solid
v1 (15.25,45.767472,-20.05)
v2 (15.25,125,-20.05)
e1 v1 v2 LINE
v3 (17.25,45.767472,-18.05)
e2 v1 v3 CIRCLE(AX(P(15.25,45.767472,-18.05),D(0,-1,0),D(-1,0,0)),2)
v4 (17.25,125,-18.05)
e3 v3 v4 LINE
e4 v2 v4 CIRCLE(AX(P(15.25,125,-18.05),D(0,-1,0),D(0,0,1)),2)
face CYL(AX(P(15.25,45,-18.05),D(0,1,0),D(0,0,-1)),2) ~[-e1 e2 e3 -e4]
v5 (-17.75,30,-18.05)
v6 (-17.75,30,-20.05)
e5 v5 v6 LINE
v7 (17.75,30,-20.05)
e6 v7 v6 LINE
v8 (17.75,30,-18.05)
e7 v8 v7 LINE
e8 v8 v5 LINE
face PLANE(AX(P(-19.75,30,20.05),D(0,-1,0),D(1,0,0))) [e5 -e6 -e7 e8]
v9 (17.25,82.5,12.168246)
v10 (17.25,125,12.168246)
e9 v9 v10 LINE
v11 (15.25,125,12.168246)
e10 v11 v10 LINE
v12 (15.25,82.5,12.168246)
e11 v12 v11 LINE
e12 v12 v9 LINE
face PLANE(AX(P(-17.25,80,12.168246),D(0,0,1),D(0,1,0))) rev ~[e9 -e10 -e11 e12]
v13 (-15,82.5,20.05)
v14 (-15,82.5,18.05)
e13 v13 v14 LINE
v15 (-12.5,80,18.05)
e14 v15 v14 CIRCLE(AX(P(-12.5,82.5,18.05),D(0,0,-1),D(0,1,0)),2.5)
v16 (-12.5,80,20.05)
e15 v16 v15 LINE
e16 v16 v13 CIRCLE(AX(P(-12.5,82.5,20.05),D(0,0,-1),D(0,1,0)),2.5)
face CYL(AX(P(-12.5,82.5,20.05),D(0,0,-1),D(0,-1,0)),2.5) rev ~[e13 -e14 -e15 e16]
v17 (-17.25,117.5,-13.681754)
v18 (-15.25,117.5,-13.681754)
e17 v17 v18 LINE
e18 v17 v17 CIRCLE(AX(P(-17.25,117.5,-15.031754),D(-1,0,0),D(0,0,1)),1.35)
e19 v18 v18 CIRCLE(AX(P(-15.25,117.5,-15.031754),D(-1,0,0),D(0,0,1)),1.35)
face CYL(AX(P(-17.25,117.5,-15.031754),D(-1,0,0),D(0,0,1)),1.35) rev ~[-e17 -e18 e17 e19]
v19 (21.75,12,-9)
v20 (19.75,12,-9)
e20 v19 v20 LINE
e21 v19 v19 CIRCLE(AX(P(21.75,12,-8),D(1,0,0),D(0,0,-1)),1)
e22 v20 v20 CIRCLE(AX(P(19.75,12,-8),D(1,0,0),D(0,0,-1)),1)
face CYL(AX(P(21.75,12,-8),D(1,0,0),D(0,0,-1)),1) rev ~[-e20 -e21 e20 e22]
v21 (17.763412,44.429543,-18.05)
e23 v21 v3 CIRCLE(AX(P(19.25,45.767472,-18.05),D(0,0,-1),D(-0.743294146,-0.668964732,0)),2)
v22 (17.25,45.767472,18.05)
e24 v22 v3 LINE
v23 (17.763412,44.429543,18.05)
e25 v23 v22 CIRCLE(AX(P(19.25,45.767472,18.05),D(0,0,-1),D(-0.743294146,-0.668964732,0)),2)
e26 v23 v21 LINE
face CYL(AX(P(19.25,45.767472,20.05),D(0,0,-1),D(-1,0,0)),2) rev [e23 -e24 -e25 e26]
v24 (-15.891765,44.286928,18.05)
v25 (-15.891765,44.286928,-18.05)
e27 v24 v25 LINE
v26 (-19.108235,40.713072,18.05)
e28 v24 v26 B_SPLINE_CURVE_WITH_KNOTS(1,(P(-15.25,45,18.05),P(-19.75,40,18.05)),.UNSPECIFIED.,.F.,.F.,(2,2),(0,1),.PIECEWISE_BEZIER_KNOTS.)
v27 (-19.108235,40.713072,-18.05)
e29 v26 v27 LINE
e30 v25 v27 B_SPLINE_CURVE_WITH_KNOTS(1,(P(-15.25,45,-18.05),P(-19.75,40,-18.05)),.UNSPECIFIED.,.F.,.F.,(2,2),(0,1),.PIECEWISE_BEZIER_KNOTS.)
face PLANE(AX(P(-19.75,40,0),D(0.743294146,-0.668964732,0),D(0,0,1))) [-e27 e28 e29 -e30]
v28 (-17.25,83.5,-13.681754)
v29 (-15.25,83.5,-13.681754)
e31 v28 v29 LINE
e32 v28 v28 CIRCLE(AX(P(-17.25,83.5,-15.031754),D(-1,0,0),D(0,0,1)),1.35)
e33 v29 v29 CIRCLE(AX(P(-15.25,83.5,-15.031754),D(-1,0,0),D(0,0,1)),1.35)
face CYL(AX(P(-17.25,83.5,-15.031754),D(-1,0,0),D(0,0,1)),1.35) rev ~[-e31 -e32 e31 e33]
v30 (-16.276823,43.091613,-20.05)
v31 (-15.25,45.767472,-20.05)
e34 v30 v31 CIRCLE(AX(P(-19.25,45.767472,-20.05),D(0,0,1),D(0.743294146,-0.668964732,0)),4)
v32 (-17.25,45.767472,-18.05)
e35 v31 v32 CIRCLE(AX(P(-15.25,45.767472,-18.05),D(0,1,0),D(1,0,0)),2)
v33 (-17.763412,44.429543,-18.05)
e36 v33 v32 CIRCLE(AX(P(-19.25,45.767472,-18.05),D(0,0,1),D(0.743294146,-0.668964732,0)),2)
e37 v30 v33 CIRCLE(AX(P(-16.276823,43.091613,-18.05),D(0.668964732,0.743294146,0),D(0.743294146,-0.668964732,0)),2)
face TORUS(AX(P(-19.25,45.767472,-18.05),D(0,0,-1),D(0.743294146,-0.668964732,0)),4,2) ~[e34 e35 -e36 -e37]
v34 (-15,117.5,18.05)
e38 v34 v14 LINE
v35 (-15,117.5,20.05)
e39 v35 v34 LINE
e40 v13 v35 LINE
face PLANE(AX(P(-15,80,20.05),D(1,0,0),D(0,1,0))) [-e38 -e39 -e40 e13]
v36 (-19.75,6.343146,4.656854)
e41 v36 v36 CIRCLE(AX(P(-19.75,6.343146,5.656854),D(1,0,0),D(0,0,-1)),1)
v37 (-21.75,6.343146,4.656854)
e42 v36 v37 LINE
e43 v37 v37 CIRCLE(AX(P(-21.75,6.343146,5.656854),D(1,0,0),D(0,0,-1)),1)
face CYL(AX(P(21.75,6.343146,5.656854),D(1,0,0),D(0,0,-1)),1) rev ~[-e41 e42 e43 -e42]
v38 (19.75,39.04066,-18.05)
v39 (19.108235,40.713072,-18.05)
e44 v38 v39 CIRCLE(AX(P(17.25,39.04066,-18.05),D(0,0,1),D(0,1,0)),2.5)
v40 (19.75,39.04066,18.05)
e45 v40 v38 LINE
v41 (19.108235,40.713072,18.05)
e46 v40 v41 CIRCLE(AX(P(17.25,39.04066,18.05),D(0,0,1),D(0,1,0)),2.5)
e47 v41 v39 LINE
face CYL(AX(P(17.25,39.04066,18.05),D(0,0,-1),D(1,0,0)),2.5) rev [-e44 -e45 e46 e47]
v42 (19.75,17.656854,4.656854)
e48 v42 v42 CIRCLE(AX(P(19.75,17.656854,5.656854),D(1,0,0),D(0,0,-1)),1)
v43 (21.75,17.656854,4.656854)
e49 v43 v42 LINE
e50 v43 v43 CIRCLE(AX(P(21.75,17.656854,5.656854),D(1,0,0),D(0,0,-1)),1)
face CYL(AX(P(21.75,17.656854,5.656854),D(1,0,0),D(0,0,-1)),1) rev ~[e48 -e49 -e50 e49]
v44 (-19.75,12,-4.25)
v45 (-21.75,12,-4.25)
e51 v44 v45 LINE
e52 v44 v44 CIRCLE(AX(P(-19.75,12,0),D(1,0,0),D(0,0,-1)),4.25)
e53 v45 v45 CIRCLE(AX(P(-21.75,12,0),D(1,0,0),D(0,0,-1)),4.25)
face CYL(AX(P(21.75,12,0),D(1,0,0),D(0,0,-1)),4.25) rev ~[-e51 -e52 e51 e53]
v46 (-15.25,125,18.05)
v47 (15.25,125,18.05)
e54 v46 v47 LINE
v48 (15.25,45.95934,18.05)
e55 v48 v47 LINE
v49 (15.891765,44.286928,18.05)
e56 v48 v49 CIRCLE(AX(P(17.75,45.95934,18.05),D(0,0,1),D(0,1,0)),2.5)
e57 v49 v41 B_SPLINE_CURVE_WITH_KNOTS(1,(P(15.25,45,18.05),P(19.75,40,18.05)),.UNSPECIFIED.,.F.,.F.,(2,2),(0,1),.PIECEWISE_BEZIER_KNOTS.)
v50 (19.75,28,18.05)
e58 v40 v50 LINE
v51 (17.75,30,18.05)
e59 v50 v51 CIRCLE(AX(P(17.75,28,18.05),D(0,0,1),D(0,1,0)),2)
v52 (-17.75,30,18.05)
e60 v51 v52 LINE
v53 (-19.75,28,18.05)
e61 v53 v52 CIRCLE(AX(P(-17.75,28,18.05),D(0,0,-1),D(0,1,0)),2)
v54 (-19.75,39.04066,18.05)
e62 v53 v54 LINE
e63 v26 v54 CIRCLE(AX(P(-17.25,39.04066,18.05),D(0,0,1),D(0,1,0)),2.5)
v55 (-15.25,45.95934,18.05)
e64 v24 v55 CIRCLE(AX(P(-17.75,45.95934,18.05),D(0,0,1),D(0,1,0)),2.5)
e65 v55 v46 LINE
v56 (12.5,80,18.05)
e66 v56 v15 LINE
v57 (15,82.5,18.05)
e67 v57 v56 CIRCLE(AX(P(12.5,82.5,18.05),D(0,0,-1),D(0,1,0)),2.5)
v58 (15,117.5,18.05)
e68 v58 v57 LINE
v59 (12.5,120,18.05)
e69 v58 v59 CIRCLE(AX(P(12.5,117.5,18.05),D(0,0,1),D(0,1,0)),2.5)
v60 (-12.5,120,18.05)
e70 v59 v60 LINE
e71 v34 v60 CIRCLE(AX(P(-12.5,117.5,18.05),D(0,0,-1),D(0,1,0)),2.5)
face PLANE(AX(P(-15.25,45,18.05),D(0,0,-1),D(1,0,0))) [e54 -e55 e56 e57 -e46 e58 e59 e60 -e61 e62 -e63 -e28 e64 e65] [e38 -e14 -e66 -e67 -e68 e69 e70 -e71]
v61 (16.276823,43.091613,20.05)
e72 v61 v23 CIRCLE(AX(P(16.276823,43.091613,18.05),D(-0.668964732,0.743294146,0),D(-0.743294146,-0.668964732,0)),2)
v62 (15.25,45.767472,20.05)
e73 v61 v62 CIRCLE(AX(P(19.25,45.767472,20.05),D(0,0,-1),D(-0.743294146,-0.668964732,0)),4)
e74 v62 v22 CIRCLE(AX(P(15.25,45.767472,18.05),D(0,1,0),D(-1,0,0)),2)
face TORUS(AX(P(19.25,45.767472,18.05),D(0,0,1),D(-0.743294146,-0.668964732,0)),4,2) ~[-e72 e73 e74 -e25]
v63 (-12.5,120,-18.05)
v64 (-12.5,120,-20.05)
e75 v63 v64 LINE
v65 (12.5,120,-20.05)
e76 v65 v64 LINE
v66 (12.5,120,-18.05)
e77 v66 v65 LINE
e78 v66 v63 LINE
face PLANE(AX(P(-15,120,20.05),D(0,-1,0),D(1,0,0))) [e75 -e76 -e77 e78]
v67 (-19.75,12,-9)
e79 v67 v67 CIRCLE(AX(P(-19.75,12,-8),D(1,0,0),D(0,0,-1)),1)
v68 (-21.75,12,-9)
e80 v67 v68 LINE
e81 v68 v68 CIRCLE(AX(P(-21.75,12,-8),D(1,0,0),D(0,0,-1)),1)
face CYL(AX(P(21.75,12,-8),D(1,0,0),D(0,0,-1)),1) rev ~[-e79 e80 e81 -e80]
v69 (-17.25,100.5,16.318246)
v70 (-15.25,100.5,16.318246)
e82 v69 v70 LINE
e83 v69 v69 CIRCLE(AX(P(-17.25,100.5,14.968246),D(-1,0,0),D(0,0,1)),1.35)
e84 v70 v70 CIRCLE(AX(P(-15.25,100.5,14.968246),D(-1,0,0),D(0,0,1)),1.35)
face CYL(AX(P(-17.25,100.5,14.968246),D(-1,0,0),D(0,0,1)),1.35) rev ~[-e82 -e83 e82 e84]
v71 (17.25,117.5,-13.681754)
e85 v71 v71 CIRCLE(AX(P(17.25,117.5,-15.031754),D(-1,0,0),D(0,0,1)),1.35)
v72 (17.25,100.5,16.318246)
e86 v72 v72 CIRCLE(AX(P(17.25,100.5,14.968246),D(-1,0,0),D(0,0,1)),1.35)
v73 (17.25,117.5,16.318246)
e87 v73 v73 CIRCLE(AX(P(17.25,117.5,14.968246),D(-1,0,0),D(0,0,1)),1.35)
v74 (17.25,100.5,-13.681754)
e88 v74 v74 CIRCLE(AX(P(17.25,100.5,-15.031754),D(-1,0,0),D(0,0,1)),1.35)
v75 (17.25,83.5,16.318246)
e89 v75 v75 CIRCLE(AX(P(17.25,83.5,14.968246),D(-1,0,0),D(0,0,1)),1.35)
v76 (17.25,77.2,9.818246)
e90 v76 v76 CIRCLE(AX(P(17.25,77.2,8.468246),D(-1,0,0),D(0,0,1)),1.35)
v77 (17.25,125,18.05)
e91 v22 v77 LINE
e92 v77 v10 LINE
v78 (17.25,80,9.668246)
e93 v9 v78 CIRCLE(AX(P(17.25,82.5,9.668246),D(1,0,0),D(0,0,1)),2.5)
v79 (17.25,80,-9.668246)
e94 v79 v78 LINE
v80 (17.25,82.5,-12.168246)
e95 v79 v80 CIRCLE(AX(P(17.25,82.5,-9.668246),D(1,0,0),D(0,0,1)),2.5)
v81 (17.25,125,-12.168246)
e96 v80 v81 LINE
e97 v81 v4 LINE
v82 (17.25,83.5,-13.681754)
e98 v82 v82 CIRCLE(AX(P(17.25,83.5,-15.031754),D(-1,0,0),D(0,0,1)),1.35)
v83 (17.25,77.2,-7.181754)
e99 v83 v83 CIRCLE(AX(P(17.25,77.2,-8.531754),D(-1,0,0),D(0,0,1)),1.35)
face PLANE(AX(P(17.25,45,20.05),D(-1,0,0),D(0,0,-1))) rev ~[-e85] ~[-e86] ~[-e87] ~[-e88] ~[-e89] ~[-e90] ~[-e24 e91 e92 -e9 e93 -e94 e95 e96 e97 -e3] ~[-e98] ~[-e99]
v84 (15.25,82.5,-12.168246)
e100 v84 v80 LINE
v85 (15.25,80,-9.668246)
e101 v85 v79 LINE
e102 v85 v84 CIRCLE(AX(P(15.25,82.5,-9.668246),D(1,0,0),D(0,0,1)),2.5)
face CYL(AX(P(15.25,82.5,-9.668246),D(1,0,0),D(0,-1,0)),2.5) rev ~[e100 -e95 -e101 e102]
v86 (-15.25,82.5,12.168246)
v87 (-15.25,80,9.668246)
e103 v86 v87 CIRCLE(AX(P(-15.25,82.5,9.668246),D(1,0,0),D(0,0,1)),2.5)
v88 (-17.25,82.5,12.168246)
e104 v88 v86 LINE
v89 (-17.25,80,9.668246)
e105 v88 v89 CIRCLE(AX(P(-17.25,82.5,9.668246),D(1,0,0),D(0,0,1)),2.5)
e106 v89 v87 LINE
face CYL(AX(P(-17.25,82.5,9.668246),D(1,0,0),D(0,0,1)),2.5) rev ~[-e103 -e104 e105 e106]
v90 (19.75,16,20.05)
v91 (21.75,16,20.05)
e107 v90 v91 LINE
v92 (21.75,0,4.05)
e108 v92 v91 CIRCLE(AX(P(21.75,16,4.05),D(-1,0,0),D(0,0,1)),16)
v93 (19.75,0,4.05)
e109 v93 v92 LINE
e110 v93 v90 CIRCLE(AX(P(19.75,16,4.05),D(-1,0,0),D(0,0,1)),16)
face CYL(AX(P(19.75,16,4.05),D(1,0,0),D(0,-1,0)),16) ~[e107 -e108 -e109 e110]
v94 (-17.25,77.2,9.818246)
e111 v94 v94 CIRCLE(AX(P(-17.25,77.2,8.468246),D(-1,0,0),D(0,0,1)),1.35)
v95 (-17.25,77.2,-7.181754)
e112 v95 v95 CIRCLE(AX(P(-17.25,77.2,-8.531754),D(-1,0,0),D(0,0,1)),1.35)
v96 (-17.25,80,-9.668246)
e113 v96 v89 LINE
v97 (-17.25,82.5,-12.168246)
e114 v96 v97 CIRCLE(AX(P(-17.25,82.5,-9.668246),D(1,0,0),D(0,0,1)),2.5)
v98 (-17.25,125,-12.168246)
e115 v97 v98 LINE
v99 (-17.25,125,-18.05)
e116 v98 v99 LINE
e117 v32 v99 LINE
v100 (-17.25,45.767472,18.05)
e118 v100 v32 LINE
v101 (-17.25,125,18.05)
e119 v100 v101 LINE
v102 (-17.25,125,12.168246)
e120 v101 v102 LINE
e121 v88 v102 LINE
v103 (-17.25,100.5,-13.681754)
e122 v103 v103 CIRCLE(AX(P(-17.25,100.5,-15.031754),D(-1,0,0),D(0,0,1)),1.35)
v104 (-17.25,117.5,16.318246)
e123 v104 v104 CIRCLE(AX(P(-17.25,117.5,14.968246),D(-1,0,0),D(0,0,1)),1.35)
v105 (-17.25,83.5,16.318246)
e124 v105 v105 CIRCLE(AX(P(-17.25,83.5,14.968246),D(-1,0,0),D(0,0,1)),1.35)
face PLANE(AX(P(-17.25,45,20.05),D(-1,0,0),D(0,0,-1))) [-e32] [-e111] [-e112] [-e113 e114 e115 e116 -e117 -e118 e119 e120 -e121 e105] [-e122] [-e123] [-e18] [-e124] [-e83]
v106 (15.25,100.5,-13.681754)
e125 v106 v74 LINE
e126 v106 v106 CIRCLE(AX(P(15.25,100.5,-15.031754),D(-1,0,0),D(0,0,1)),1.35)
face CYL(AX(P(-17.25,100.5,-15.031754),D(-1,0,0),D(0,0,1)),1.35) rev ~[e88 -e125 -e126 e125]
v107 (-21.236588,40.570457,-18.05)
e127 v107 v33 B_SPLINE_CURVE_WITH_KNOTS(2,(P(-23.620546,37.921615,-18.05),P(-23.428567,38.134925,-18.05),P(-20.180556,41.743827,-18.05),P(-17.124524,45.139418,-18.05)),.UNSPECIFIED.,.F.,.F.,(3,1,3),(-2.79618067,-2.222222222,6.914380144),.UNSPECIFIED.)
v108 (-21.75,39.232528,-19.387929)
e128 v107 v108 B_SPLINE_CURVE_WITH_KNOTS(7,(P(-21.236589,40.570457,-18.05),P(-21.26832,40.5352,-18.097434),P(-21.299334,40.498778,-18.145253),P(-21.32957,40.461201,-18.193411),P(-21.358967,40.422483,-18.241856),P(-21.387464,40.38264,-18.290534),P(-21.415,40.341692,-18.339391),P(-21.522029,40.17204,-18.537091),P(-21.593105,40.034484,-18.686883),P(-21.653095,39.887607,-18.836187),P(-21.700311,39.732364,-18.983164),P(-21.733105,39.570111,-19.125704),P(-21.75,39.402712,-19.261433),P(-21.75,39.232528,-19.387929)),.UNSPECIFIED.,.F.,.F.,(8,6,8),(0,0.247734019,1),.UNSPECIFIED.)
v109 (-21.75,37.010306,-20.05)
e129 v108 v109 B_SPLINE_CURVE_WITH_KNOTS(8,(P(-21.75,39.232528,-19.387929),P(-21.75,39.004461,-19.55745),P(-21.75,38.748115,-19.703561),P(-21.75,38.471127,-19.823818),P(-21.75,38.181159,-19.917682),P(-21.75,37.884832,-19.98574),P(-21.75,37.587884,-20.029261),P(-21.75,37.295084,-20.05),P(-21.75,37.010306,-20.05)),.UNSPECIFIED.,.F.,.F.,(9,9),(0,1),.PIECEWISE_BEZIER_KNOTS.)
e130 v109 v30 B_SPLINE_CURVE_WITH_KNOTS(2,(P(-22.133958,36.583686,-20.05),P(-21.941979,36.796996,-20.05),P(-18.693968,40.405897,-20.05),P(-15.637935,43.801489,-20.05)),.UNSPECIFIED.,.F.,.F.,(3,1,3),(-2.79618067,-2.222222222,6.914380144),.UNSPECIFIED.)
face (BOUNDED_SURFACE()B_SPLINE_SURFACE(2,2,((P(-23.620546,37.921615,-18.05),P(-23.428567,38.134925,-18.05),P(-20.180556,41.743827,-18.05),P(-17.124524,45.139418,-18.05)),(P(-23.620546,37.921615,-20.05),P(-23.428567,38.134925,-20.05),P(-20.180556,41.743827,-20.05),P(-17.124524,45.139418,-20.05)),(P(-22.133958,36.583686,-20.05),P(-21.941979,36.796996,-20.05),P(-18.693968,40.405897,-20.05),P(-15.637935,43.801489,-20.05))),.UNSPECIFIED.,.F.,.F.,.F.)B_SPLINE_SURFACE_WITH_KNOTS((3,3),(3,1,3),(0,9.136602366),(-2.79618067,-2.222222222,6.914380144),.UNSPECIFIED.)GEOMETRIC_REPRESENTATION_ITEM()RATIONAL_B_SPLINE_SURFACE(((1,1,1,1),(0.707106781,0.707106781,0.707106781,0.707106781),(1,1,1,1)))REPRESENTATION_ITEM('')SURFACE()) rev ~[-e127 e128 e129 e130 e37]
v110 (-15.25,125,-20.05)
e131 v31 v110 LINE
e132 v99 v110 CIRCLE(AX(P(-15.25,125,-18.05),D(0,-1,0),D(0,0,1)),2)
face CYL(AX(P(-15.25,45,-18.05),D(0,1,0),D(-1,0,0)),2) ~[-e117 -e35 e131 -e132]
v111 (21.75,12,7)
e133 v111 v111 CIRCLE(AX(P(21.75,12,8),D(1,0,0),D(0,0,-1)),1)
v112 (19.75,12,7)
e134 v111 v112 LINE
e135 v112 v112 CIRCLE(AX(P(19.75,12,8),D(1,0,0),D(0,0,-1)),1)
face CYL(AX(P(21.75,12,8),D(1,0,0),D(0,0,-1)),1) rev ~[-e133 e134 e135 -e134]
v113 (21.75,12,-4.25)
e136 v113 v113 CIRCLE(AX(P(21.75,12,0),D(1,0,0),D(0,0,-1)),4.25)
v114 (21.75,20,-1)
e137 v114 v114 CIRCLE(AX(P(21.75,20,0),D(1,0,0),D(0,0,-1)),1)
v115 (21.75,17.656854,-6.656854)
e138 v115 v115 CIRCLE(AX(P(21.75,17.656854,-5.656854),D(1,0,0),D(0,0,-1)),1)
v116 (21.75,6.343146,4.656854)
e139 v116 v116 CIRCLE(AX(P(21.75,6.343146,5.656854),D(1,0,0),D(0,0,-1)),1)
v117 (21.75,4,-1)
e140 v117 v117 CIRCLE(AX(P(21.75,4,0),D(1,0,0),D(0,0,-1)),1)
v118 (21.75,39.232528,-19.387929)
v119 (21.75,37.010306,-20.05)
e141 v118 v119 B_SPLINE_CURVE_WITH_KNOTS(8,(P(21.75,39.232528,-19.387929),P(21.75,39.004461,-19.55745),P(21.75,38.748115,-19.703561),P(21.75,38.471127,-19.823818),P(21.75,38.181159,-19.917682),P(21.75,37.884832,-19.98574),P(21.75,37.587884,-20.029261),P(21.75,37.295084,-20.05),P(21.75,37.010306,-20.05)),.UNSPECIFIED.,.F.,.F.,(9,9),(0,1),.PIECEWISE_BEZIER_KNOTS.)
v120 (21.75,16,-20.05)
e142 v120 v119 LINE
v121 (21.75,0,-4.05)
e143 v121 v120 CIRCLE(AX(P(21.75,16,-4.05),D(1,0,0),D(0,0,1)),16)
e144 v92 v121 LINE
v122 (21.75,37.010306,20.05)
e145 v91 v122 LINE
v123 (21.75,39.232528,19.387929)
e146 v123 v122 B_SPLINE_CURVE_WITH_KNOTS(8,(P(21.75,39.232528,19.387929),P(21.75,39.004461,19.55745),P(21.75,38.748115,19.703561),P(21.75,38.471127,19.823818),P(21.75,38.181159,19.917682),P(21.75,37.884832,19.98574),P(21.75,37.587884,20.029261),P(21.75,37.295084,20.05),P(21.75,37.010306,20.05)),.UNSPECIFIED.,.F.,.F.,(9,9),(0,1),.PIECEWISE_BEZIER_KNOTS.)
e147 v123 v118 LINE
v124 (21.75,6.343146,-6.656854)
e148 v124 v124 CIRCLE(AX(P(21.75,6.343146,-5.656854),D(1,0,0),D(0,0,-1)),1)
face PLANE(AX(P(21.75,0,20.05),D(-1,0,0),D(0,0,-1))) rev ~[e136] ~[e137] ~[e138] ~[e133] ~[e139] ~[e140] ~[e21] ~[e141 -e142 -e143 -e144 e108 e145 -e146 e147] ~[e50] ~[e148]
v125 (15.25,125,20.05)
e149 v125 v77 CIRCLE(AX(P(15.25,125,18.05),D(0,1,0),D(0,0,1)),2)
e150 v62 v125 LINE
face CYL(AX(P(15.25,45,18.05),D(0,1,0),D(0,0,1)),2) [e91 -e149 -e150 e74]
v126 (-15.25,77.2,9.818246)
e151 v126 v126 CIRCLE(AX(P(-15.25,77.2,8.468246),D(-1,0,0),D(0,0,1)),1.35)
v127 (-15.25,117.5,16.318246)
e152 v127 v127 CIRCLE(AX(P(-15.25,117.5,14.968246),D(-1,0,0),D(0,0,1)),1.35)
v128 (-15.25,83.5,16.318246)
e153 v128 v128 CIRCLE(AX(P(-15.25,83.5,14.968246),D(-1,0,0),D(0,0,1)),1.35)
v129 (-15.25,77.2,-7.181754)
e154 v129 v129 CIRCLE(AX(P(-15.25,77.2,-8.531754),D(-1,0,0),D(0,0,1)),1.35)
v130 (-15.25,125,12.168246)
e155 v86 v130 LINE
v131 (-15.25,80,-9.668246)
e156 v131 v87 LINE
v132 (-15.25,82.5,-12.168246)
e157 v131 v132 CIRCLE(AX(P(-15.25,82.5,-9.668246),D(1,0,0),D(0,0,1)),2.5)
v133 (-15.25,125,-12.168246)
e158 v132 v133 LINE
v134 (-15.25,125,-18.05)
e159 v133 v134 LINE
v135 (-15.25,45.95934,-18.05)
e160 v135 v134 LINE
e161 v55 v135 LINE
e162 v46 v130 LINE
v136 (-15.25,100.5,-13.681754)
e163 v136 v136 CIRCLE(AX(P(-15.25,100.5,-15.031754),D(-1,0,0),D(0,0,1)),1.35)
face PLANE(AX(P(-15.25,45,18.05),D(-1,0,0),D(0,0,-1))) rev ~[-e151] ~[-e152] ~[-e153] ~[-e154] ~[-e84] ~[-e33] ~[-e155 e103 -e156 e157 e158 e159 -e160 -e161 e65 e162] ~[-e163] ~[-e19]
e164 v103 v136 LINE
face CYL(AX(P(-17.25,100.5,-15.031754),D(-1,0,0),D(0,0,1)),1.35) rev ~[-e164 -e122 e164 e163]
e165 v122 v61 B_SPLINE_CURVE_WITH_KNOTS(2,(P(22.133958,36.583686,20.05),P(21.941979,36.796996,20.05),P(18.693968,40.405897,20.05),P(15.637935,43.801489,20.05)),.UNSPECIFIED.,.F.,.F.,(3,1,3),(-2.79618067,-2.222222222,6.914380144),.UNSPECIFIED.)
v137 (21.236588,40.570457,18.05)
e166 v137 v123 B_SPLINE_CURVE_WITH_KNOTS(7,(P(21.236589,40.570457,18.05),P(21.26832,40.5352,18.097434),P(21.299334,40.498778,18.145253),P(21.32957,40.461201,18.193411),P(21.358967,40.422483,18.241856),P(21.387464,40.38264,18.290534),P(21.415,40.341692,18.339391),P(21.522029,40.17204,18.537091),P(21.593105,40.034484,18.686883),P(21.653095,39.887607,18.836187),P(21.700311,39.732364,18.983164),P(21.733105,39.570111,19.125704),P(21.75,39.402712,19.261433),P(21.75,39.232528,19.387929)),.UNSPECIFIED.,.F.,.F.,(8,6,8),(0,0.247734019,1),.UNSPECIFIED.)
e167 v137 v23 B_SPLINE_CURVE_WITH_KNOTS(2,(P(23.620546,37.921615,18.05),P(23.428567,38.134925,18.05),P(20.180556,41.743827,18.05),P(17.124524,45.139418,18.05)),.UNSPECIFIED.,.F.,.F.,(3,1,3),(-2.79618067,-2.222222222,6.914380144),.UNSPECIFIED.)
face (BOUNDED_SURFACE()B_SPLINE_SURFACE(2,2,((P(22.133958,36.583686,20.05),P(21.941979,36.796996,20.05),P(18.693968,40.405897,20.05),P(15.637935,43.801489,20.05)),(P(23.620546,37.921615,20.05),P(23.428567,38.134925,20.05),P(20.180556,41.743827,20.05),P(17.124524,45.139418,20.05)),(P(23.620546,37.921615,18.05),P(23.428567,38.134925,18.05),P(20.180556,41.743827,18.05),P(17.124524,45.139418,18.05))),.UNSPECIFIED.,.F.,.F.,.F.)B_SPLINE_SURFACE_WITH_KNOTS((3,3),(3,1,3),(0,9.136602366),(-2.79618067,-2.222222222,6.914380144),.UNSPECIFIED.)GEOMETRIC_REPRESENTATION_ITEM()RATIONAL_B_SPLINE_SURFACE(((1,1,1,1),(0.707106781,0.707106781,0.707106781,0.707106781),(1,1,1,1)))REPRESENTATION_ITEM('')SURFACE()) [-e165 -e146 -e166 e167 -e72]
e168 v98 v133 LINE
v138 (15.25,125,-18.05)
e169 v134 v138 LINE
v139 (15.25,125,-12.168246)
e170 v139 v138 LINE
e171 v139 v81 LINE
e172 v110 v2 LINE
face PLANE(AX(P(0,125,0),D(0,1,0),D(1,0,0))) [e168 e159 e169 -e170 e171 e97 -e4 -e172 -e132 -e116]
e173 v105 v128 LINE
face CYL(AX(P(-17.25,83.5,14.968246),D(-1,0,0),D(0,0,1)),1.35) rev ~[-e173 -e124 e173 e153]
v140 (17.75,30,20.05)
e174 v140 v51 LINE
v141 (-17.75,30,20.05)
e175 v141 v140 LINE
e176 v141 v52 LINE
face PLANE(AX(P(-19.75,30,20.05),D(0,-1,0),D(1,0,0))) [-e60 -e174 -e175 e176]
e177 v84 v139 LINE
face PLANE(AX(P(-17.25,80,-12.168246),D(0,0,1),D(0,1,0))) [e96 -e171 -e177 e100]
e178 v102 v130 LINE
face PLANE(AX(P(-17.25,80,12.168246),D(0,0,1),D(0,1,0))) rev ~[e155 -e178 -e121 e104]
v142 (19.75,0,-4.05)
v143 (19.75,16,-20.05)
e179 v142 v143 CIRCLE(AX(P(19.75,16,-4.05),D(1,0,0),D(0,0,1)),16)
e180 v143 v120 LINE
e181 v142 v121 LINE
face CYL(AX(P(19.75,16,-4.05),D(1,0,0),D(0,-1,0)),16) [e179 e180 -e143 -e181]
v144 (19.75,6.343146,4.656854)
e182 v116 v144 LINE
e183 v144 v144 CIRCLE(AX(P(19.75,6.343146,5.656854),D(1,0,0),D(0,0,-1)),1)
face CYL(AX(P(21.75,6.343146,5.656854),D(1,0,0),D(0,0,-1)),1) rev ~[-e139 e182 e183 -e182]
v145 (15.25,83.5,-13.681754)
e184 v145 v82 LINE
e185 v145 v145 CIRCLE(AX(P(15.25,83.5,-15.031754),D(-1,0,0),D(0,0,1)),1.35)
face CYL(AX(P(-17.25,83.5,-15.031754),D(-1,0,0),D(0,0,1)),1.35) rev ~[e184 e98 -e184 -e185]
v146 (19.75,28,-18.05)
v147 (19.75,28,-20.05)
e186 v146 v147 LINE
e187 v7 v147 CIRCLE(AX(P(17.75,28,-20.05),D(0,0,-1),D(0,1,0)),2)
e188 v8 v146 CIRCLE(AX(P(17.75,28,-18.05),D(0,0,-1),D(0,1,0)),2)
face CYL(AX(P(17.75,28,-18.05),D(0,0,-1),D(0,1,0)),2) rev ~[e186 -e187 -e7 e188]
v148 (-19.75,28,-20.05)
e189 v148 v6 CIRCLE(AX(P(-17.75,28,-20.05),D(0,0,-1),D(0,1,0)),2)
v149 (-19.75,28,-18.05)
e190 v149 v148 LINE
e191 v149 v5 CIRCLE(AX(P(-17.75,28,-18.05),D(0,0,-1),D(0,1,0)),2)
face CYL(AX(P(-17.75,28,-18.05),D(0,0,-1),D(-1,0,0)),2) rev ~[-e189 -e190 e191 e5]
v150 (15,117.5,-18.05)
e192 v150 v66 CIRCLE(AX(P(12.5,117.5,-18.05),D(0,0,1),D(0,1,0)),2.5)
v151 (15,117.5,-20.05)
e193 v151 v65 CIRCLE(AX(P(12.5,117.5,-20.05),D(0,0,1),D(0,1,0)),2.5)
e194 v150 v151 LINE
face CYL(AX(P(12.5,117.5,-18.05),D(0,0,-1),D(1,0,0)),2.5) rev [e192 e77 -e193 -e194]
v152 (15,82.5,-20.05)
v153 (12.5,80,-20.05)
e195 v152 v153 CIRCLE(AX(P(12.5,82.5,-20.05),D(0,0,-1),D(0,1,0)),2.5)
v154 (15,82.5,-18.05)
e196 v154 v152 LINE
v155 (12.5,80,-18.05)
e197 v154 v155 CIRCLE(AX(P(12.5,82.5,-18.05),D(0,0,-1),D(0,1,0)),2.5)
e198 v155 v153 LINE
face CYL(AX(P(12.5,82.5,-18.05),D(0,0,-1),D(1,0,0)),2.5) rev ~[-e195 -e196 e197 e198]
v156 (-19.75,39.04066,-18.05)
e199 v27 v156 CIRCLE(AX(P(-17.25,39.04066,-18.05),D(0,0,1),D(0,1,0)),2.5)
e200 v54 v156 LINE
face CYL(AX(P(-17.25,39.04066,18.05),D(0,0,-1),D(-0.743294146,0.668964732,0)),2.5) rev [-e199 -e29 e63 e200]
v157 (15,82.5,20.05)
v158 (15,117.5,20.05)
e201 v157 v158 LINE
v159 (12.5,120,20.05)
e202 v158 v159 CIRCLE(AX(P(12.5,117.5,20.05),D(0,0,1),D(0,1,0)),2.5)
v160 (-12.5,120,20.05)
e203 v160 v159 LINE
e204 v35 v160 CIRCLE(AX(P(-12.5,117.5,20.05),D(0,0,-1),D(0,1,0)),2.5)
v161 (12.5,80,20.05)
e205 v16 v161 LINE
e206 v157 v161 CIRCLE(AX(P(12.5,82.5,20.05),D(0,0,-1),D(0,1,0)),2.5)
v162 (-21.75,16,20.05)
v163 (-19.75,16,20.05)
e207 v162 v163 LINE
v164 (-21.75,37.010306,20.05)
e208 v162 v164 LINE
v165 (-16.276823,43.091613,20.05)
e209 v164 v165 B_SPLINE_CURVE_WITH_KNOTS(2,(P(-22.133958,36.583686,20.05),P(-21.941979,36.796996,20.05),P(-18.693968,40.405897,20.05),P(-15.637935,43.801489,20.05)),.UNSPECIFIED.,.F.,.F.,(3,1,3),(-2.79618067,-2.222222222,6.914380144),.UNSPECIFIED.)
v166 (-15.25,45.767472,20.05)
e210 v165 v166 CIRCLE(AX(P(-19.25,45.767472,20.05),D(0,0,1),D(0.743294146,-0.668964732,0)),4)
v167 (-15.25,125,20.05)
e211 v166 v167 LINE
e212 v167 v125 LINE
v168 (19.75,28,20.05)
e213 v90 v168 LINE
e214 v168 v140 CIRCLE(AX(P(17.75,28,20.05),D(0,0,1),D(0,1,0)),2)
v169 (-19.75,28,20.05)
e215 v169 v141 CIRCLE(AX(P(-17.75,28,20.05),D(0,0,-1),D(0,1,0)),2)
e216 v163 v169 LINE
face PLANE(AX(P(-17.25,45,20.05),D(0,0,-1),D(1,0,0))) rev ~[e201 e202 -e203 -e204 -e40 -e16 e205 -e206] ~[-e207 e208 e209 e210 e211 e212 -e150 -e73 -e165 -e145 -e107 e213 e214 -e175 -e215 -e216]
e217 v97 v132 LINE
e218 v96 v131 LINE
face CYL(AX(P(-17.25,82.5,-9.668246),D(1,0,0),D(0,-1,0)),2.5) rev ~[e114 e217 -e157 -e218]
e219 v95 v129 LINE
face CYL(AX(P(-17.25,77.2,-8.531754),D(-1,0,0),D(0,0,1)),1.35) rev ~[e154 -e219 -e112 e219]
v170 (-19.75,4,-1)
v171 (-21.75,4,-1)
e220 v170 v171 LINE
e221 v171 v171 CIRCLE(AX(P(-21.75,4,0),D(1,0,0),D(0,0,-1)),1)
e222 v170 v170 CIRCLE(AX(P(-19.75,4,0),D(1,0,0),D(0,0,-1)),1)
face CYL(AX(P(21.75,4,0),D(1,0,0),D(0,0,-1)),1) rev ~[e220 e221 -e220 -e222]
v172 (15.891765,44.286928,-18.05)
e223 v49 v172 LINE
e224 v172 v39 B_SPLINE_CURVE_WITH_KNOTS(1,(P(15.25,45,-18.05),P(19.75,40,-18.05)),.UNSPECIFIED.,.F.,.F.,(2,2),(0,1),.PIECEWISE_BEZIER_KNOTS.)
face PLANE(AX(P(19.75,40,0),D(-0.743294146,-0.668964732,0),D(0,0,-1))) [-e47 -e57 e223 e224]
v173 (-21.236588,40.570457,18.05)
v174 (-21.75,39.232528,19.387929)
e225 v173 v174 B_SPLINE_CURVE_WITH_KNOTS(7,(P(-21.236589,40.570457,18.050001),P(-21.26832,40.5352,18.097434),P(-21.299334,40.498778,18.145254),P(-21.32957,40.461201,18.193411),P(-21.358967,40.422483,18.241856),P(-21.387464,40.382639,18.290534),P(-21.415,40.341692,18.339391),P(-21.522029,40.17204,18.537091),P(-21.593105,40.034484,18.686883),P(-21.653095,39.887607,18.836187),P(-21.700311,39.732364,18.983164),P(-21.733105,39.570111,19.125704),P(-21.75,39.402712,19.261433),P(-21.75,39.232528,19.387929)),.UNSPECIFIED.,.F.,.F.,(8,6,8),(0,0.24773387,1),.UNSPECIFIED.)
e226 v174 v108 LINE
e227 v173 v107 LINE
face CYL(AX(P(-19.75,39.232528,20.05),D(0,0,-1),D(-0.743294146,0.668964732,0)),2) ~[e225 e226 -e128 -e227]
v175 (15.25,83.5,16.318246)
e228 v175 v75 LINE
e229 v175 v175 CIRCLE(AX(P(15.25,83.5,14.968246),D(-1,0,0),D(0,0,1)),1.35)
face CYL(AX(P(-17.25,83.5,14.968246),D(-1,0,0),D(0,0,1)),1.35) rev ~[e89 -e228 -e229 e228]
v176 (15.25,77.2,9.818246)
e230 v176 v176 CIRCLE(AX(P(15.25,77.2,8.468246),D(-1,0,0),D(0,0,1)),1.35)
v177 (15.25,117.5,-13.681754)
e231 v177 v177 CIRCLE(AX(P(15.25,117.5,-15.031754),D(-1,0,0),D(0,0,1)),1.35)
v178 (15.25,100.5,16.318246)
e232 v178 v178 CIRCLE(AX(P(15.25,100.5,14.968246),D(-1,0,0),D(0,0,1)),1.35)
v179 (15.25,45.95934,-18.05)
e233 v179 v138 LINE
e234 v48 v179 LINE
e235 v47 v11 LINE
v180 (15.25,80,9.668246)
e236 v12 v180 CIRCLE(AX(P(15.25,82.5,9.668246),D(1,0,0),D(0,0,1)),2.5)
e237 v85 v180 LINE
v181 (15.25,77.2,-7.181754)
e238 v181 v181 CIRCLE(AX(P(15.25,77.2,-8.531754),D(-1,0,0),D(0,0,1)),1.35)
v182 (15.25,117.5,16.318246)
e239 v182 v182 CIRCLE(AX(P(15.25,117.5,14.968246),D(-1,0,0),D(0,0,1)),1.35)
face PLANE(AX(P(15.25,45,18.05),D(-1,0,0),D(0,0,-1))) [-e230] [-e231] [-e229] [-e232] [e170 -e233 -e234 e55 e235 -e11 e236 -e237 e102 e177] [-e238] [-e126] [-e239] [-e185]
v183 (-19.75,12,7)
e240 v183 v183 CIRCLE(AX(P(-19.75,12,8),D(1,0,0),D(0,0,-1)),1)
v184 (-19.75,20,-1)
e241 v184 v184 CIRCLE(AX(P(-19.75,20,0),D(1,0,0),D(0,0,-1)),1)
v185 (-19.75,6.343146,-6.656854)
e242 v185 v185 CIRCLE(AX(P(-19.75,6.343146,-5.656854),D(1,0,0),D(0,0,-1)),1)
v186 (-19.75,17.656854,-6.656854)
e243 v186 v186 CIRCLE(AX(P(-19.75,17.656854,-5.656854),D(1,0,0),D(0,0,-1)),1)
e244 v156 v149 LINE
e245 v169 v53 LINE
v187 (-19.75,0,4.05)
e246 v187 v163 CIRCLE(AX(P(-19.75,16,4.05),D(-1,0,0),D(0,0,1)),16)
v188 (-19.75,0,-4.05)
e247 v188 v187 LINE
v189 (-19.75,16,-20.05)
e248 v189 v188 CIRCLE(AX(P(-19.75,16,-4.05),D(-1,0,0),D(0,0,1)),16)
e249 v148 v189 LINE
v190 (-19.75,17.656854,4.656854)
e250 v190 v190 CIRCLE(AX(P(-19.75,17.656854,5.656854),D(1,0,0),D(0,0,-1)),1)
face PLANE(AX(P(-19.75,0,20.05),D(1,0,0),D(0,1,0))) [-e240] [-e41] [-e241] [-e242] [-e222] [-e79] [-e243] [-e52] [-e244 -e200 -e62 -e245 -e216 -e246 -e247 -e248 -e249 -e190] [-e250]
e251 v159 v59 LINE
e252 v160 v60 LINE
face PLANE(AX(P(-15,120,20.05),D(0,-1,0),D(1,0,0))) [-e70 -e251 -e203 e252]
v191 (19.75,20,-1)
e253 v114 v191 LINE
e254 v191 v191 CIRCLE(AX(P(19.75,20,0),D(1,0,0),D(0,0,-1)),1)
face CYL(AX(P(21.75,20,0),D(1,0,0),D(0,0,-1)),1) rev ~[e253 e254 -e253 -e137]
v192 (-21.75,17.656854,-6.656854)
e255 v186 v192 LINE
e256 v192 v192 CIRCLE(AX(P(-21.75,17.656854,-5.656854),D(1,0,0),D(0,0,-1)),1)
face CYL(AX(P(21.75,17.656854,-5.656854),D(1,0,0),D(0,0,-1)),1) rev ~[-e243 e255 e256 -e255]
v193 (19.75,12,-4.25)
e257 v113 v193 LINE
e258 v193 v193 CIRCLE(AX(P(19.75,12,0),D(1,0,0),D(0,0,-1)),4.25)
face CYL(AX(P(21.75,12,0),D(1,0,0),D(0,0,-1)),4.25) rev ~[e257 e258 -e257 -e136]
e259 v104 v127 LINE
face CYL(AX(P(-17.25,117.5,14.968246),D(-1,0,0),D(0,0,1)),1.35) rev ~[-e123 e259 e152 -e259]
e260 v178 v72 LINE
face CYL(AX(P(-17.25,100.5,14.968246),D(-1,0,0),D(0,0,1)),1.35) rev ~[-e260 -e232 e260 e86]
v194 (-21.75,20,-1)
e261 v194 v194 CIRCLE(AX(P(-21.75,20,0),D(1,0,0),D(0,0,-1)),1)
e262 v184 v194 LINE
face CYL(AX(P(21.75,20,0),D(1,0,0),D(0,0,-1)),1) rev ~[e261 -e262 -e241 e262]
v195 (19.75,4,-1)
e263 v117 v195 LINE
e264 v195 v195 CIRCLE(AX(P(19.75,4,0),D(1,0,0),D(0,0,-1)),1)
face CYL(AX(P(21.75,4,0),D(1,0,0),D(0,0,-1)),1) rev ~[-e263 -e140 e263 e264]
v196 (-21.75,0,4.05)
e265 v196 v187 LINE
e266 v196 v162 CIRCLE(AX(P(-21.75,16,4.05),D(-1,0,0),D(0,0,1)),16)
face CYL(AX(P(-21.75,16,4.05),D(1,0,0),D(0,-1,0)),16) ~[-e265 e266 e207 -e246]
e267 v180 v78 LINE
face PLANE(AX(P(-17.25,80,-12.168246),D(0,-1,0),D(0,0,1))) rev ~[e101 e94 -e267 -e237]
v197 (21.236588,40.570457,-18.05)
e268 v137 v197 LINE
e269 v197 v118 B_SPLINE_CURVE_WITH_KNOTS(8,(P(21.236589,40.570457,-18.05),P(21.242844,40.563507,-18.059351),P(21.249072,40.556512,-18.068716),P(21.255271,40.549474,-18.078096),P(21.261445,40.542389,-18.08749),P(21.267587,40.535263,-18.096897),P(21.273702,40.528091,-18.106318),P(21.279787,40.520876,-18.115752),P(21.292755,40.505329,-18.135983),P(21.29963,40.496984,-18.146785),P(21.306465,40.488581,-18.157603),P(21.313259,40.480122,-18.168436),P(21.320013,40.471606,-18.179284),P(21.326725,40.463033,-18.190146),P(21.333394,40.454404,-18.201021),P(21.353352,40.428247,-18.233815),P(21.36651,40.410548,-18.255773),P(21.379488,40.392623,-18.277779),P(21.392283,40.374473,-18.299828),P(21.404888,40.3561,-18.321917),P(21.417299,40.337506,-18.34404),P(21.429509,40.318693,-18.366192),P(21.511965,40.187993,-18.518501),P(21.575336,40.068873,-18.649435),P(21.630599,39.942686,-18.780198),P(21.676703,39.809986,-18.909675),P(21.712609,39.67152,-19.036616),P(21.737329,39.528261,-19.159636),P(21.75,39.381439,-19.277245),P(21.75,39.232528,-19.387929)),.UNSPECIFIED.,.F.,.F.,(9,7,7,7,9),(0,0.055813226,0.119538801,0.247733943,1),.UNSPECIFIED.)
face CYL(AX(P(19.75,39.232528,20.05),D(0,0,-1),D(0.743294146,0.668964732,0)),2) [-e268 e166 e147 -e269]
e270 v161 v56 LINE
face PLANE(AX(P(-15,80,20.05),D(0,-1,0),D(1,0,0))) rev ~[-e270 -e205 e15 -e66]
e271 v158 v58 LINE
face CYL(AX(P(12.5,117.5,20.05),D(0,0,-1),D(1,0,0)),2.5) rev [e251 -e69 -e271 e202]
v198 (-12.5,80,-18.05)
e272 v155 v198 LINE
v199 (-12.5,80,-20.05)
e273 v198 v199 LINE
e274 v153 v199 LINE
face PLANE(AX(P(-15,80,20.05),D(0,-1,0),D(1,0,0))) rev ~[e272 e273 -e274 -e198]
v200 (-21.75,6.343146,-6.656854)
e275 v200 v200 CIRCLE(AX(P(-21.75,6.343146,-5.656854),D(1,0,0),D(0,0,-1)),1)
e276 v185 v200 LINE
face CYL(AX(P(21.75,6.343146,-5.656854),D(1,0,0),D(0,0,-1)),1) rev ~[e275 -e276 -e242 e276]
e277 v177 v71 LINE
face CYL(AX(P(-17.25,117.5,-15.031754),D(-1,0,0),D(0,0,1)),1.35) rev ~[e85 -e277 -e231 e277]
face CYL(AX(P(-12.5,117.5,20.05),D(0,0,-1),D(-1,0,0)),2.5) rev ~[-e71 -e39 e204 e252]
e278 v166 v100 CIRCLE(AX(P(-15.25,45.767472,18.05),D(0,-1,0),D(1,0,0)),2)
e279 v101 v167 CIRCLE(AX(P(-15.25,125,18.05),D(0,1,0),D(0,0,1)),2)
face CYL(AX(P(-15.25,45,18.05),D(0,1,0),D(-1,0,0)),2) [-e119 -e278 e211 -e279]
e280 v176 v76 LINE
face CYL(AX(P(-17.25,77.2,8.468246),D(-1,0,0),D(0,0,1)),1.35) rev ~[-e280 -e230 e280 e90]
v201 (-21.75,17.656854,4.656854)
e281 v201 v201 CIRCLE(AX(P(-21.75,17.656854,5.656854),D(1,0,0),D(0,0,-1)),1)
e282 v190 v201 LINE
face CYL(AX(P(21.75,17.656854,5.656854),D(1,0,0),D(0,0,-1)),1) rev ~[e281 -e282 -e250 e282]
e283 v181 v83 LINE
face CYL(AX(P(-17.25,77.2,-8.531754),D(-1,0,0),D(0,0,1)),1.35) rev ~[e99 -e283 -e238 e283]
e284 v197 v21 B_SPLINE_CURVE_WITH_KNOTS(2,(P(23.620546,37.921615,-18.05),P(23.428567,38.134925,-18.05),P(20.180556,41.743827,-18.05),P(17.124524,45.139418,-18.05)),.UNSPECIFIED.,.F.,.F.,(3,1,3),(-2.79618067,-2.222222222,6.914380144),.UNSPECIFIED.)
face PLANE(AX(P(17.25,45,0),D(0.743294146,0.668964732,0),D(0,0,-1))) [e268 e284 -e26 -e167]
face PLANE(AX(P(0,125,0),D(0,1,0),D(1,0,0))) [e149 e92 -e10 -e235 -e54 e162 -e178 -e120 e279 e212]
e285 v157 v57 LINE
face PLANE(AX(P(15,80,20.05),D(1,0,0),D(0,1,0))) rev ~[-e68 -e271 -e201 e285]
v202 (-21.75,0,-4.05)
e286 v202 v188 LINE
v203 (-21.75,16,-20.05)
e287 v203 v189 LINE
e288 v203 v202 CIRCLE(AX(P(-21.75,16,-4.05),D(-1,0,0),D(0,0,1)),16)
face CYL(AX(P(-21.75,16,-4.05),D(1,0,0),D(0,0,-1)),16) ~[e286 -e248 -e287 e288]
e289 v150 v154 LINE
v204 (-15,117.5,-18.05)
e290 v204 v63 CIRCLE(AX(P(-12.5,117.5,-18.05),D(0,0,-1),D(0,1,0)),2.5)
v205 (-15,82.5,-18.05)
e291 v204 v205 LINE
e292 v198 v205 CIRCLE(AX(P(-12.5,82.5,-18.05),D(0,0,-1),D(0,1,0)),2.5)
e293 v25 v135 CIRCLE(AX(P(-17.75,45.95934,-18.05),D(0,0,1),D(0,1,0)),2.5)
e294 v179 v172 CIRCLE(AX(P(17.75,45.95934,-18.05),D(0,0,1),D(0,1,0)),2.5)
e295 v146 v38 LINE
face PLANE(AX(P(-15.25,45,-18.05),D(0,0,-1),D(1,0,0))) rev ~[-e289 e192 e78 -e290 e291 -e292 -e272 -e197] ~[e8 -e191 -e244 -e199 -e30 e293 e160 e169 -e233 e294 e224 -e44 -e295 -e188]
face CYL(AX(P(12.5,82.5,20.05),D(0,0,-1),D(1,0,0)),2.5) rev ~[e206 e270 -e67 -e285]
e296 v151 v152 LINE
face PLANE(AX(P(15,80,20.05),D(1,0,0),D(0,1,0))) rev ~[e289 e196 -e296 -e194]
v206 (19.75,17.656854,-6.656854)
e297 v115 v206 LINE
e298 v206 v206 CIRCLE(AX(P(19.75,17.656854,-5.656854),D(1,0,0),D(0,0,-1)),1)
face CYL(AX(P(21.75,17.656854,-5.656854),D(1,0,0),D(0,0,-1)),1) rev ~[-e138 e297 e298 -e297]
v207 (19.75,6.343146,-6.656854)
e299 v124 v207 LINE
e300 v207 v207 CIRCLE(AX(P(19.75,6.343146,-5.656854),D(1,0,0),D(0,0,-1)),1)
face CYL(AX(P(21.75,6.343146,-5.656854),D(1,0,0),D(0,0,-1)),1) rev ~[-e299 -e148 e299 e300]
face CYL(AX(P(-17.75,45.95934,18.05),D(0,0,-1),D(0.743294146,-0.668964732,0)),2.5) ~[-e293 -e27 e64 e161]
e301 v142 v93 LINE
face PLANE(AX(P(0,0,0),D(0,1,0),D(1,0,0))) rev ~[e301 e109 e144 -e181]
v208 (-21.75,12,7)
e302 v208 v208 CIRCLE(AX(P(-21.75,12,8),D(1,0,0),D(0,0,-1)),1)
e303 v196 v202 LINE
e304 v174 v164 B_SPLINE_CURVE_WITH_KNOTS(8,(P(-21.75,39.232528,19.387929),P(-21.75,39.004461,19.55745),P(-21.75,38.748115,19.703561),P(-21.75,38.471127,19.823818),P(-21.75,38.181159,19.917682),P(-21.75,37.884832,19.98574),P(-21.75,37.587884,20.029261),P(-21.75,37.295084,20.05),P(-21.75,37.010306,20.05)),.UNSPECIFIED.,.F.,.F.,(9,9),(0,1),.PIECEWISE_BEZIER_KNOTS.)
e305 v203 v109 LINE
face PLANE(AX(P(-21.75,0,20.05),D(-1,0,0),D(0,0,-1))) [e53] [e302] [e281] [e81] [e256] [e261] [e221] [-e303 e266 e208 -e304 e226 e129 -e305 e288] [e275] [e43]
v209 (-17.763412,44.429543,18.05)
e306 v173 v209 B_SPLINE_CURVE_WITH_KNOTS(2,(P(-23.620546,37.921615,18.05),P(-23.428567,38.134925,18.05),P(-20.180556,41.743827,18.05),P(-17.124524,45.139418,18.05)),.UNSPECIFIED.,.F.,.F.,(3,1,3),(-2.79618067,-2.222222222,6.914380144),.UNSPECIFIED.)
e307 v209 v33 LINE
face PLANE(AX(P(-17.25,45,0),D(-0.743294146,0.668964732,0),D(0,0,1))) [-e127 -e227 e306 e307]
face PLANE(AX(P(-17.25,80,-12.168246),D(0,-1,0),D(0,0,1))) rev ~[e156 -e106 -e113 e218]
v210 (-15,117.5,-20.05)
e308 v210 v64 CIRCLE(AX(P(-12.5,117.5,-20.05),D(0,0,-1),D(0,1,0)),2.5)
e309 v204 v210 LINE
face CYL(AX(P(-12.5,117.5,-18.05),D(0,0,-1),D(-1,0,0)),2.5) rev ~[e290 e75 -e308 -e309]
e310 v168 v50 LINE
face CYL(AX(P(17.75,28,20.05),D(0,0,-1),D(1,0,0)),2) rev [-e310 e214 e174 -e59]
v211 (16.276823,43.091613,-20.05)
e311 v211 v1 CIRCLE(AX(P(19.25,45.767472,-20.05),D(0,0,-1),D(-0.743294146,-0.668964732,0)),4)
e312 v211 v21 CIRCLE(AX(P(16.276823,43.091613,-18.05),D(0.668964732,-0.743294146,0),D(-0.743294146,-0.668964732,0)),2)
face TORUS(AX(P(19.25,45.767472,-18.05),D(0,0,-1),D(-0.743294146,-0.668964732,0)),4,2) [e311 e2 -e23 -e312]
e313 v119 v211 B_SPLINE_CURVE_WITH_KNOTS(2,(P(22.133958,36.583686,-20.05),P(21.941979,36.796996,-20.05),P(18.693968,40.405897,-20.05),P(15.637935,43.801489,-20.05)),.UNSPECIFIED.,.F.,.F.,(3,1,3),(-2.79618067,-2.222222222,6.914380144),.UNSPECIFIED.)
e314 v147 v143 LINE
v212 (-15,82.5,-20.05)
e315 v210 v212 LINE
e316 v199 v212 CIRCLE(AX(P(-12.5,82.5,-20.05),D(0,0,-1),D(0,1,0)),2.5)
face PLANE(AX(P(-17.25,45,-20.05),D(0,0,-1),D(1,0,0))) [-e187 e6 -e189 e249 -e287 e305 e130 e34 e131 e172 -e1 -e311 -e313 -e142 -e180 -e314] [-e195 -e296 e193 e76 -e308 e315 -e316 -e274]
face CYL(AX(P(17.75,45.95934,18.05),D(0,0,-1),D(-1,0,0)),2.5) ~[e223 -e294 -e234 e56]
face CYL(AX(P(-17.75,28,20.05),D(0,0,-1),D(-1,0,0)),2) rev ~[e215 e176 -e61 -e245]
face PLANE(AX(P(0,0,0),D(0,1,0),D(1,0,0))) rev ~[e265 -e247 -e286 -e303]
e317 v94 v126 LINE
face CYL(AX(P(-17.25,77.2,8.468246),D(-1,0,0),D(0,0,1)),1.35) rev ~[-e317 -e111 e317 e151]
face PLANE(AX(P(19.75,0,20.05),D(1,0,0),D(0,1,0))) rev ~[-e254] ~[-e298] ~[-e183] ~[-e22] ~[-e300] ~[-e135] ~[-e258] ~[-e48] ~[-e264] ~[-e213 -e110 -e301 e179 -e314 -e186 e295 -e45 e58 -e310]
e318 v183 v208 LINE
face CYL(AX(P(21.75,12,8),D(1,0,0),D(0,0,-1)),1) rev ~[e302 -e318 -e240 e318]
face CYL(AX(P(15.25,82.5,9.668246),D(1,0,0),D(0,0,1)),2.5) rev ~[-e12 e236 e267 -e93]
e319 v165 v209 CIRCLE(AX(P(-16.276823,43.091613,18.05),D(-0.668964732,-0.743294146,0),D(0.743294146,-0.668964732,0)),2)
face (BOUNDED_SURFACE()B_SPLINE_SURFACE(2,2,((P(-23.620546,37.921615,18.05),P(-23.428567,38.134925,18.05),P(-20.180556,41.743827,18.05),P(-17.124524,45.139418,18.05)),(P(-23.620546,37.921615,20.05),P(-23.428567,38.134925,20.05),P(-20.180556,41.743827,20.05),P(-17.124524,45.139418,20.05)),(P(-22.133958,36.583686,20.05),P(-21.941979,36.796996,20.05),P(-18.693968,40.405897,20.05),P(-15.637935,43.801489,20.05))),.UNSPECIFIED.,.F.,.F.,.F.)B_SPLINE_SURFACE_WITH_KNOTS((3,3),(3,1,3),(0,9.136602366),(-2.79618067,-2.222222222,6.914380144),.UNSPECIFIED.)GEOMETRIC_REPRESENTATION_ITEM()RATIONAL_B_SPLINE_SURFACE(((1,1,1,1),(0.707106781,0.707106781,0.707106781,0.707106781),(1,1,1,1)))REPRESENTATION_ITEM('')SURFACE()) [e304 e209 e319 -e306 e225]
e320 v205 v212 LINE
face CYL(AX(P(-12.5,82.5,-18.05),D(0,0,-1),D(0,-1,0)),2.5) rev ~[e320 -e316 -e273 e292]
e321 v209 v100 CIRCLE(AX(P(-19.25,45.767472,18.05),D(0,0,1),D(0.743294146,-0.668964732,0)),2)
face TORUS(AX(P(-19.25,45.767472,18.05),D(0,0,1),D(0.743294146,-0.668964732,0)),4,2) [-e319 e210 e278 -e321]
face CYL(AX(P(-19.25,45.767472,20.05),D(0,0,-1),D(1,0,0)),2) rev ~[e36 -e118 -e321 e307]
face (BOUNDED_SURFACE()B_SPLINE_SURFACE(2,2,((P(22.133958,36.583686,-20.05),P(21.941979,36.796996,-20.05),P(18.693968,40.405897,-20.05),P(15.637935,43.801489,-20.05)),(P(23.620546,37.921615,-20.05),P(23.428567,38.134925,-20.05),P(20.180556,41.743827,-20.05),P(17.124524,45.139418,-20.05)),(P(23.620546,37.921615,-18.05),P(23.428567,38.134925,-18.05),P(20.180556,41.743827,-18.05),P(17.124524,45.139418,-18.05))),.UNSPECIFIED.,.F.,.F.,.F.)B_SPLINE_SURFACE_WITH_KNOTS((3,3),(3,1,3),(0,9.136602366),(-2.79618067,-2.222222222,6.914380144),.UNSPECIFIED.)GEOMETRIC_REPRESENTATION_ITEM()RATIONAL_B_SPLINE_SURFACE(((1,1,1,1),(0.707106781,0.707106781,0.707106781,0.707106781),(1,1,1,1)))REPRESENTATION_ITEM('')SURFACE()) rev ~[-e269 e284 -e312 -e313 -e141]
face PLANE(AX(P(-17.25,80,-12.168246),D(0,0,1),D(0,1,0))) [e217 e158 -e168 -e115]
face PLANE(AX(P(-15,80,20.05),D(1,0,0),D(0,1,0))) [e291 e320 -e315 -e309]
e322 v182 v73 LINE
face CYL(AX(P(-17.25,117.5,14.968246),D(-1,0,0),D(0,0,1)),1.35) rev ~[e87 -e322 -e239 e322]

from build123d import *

# Parameters (mm, degrees)
SKETCH1_W               = 43.5
SKETCH1_H               = 40.1
SKETCH1_W_2             = 39.5
SKETCH1_H_2             = 36.1
BOSS_EXTRUDE1_DEPTH     = 40
SKETCH3_R               = 1
SKETCH3_R_2             = 4.25
CUT_EXTRUDE2_DEPTH      = 44.5
SKETCH4_W               = 39.5
SKETCH4_H               = 30
CUT_EXTRUDE3_DEPTH      = 41.1
FILLET1_R               = 16
SKETCH8_W               = 43.5
SKETCH8_H               = 40.1
SKETCH7_W               = 34.5
SKETCH7_H               = 40.1
SKETCH11_W              = 30.5
SKETCH11_H              = 36.1
SKETCH10_W              = 39.5
SKETCH10_H              = 36.1
SKETCH12_W              = 34.5
SKETCH12_H              = 40.1
SKETCH12_W_2            = 30.5
SKETCH12_H_2            = 36.1
BOSS_EXTRUDE2_DEPTH     = 80
SKETCH5_W               = 24.33649167
SKETCH5_H               = 45
CUT_EXTRUDE4_DEPTH      = 5.5000001
CUT_EXTRUDE4_DEPTH_BACK = 40.0000001
SKETCH6_W               = 30
SKETCH6_H               = 40
CUT_EXTRUDE5_DEPTH      = 41.1000001
FILLET2_R               = 2
FILLET3_R               = 2.5
SKETCH16_R              = 1.35
CUT_EXTRUDE6_DEPTH      = 40.0000001


with BuildPart() as part:
    # Sketch1 → Boss-Extrude1 (new body)
    with BuildSketch(Plane(origin=(0, 0, 0), x_dir=(1, 0, 0), z_dir=(0, 1, 0))):
        Rectangle(SKETCH1_W, SKETCH1_H)
        Rectangle(SKETCH1_W_2, SKETCH1_H_2, mode=Mode.SUBTRACT)
    extrude(amount=BOSS_EXTRUDE1_DEPTH)

    # Sketch3 → Cut-Extrude2 (cut, through all)
    with BuildSketch(Plane(origin=(21.75, 0, 0), x_dir=(0, 0, -1), z_dir=(1, 0, 0))):
        with Locations((0, 20)):
            Circle(SKETCH3_R)
        with Locations((5.656854249, 17.656854249)):
            Circle(SKETCH3_R)
        with Locations((8, 12)):
            Circle(SKETCH3_R)
        with Locations((5.656854249, 6.343145751)):
            Circle(SKETCH3_R)
        with Locations((0, 4)):
            Circle(SKETCH3_R)
        with Locations((-5.656854249, 6.343145751)):
            Circle(SKETCH3_R)
        with Locations((-8, 12)):
            Circle(SKETCH3_R)
        with Locations((-5.656854249, 17.656854249)):
            Circle(SKETCH3_R)
        with Locations((0, 12)):
            Circle(SKETCH3_R_2)
    extrude(amount=-CUT_EXTRUDE2_DEPTH, mode=Mode.SUBTRACT)

    # Sketch4 → Cut-Extrude3 (cut, through all)
    with BuildSketch(Plane.XY.offset(20.05)):
        with Locations((0, 15)):
            Rectangle(SKETCH4_W, SKETCH4_H)
    extrude(amount=-CUT_EXTRUDE3_DEPTH, mode=Mode.SUBTRACT)

    # Fillet1
    fillet1_edges = [part.edges().sort_by_distance(p)[0] for p in [
        (20.75, 0, 20.05),
        (-20.75, 0, -20.05),
        (-20.75, 0, 20.05),
        (20.75, 0, -20.05),
    ]]
    fillet(fillet1_edges, radius=FILLET1_R)

    # Sketch8 → Loft2 section 0
    with BuildSketch(Plane(origin=(0, 40, 0), x_dir=(1, 0, 0), z_dir=(0, 1, 0))):
        Rectangle(SKETCH8_W, SKETCH8_H)
    # Sketch7 → Loft2 section 1
    with BuildSketch(Plane(origin=(0, 45, 0), x_dir=(1, 0, 0), z_dir=(0, 1, 0))):
        Rectangle(SKETCH7_W, SKETCH7_H)
    loft()

    # Sketch11 → Cut-Loft1 section 0
    with BuildSketch(Plane(origin=(0, 45, 0), x_dir=(1, 0, 0), z_dir=(0, 1, 0))):
        Rectangle(SKETCH11_W, SKETCH11_H)
    # Sketch10 → Cut-Loft1 section 1
    with BuildSketch(Plane(origin=(0, 40, 0), x_dir=(1, 0, 0), z_dir=(0, 1, 0))):
        Rectangle(SKETCH10_W, SKETCH10_H)
    loft(mode=Mode.SUBTRACT)

    # Sketch12 → Boss-Extrude2 (add)
    with BuildSketch(Plane(origin=(0, 45, 0), x_dir=(1, 0, 0), z_dir=(0, 1, 0))):
        Rectangle(SKETCH12_W, SKETCH12_H)
        Rectangle(SKETCH12_W_2, SKETCH12_H_2, mode=Mode.SUBTRACT)
    extrude(amount=BOSS_EXTRUDE2_DEPTH)

    # Sketch5 → Cut-Extrude4 (cut, two sides)
    with BuildSketch(Plane.ZY.offset(17.25)) as cut_extrude4_sk:
        with Locations((0, 102.5)):
            Rectangle(SKETCH5_W, SKETCH5_H)
    extrude(amount=CUT_EXTRUDE4_DEPTH, mode=Mode.SUBTRACT)
    extrude(cut_extrude4_sk.sketch, amount=-CUT_EXTRUDE4_DEPTH_BACK, mode=Mode.SUBTRACT)

    # Sketch6 → Cut-Extrude5 (cut, through all)
    with BuildSketch(Plane.XY.offset(20.05)):
        with Locations((0, 100)):
            Rectangle(SKETCH6_W, SKETCH6_H)
    extrude(amount=-CUT_EXTRUDE5_DEPTH, mode=Mode.SUBTRACT)

    # Fillet2
    fillet2_edges = [part.edges().sort_by_distance(p)[0] for p in [
        (-19.75, 30, 19.05),
        (19.75, 30, 19.05),
        (19.75, 30, -19.05),
        (-19.75, 30, -19.05),
        (-21.75, 40, 0),
        (17.25, 45, 0),
        (-17.25, 45, 0),
        (19.5, 42.5, 20.05),
        (-19.5, 42.5, 20.05),
        (19.5, 42.5, -20.05),
        (-19.5, 42.5, -20.05),
        (17.25, 85, -20.05),
        (-17.25, 85, -20.05),
        (-17.25, 85, 20.05),
        (17.25, 85, 20.05),
        (21.75, 40, 0),
    ]]
    fillet(fillet2_edges, radius=FILLET2_R)

    # Fillet3
    fillet3_edges = [part.edges().sort_by_distance(p)[0] for p in [
        (-19.75, 40, 0),
        (19.75, 40, 0),
        (15.25, 45, 0),
        (-15.25, 45, 0),
        (16.25, 80, -12.168245835),
        (16.25, 80, 12.168245835),
        (-15, 120, -19.05),
        (-15, 80, -19.05),
        (-16.25, 80, 12.168245835),
        (-16.25, 80, -12.168245835),
        (15, 80, -19.05),
        (15, 120, -19.05),
        (15, 120, 19.05),
        (-15, 120, 19.05),
        (-15, 80, 19.05),
        (15, 80, 19.05),
    ]]
    fillet(fillet3_edges, radius=FILLET3_R)

    # Sketch16 → Cut-Extrude6 (cut, through all)
    with BuildSketch(Plane.ZY.offset(17.25)):
        with Locations((-15.031754165, 117.5)):
            Circle(SKETCH16_R)
        with Locations((-15.031754165, 100.5)):
            Circle(SKETCH16_R)
        with Locations((-15.031754165, 83.5)):
            Circle(SKETCH16_R)
        with Locations((-8.531754165, 77.2)):
            Circle(SKETCH16_R)
        with Locations((8.468245835, 77.2)):
            Circle(SKETCH16_R)
        with Locations((14.968245835, 83.5)):
            Circle(SKETCH16_R)
        with Locations((14.968245835, 100.5)):
            Circle(SKETCH16_R)
        with Locations((14.968245835, 117.5)):
            Circle(SKETCH16_R)
    extrude(amount=-CUT_EXTRUDE6_DEPTH, mode=Mode.SUBTRACT)


solid = part.part
